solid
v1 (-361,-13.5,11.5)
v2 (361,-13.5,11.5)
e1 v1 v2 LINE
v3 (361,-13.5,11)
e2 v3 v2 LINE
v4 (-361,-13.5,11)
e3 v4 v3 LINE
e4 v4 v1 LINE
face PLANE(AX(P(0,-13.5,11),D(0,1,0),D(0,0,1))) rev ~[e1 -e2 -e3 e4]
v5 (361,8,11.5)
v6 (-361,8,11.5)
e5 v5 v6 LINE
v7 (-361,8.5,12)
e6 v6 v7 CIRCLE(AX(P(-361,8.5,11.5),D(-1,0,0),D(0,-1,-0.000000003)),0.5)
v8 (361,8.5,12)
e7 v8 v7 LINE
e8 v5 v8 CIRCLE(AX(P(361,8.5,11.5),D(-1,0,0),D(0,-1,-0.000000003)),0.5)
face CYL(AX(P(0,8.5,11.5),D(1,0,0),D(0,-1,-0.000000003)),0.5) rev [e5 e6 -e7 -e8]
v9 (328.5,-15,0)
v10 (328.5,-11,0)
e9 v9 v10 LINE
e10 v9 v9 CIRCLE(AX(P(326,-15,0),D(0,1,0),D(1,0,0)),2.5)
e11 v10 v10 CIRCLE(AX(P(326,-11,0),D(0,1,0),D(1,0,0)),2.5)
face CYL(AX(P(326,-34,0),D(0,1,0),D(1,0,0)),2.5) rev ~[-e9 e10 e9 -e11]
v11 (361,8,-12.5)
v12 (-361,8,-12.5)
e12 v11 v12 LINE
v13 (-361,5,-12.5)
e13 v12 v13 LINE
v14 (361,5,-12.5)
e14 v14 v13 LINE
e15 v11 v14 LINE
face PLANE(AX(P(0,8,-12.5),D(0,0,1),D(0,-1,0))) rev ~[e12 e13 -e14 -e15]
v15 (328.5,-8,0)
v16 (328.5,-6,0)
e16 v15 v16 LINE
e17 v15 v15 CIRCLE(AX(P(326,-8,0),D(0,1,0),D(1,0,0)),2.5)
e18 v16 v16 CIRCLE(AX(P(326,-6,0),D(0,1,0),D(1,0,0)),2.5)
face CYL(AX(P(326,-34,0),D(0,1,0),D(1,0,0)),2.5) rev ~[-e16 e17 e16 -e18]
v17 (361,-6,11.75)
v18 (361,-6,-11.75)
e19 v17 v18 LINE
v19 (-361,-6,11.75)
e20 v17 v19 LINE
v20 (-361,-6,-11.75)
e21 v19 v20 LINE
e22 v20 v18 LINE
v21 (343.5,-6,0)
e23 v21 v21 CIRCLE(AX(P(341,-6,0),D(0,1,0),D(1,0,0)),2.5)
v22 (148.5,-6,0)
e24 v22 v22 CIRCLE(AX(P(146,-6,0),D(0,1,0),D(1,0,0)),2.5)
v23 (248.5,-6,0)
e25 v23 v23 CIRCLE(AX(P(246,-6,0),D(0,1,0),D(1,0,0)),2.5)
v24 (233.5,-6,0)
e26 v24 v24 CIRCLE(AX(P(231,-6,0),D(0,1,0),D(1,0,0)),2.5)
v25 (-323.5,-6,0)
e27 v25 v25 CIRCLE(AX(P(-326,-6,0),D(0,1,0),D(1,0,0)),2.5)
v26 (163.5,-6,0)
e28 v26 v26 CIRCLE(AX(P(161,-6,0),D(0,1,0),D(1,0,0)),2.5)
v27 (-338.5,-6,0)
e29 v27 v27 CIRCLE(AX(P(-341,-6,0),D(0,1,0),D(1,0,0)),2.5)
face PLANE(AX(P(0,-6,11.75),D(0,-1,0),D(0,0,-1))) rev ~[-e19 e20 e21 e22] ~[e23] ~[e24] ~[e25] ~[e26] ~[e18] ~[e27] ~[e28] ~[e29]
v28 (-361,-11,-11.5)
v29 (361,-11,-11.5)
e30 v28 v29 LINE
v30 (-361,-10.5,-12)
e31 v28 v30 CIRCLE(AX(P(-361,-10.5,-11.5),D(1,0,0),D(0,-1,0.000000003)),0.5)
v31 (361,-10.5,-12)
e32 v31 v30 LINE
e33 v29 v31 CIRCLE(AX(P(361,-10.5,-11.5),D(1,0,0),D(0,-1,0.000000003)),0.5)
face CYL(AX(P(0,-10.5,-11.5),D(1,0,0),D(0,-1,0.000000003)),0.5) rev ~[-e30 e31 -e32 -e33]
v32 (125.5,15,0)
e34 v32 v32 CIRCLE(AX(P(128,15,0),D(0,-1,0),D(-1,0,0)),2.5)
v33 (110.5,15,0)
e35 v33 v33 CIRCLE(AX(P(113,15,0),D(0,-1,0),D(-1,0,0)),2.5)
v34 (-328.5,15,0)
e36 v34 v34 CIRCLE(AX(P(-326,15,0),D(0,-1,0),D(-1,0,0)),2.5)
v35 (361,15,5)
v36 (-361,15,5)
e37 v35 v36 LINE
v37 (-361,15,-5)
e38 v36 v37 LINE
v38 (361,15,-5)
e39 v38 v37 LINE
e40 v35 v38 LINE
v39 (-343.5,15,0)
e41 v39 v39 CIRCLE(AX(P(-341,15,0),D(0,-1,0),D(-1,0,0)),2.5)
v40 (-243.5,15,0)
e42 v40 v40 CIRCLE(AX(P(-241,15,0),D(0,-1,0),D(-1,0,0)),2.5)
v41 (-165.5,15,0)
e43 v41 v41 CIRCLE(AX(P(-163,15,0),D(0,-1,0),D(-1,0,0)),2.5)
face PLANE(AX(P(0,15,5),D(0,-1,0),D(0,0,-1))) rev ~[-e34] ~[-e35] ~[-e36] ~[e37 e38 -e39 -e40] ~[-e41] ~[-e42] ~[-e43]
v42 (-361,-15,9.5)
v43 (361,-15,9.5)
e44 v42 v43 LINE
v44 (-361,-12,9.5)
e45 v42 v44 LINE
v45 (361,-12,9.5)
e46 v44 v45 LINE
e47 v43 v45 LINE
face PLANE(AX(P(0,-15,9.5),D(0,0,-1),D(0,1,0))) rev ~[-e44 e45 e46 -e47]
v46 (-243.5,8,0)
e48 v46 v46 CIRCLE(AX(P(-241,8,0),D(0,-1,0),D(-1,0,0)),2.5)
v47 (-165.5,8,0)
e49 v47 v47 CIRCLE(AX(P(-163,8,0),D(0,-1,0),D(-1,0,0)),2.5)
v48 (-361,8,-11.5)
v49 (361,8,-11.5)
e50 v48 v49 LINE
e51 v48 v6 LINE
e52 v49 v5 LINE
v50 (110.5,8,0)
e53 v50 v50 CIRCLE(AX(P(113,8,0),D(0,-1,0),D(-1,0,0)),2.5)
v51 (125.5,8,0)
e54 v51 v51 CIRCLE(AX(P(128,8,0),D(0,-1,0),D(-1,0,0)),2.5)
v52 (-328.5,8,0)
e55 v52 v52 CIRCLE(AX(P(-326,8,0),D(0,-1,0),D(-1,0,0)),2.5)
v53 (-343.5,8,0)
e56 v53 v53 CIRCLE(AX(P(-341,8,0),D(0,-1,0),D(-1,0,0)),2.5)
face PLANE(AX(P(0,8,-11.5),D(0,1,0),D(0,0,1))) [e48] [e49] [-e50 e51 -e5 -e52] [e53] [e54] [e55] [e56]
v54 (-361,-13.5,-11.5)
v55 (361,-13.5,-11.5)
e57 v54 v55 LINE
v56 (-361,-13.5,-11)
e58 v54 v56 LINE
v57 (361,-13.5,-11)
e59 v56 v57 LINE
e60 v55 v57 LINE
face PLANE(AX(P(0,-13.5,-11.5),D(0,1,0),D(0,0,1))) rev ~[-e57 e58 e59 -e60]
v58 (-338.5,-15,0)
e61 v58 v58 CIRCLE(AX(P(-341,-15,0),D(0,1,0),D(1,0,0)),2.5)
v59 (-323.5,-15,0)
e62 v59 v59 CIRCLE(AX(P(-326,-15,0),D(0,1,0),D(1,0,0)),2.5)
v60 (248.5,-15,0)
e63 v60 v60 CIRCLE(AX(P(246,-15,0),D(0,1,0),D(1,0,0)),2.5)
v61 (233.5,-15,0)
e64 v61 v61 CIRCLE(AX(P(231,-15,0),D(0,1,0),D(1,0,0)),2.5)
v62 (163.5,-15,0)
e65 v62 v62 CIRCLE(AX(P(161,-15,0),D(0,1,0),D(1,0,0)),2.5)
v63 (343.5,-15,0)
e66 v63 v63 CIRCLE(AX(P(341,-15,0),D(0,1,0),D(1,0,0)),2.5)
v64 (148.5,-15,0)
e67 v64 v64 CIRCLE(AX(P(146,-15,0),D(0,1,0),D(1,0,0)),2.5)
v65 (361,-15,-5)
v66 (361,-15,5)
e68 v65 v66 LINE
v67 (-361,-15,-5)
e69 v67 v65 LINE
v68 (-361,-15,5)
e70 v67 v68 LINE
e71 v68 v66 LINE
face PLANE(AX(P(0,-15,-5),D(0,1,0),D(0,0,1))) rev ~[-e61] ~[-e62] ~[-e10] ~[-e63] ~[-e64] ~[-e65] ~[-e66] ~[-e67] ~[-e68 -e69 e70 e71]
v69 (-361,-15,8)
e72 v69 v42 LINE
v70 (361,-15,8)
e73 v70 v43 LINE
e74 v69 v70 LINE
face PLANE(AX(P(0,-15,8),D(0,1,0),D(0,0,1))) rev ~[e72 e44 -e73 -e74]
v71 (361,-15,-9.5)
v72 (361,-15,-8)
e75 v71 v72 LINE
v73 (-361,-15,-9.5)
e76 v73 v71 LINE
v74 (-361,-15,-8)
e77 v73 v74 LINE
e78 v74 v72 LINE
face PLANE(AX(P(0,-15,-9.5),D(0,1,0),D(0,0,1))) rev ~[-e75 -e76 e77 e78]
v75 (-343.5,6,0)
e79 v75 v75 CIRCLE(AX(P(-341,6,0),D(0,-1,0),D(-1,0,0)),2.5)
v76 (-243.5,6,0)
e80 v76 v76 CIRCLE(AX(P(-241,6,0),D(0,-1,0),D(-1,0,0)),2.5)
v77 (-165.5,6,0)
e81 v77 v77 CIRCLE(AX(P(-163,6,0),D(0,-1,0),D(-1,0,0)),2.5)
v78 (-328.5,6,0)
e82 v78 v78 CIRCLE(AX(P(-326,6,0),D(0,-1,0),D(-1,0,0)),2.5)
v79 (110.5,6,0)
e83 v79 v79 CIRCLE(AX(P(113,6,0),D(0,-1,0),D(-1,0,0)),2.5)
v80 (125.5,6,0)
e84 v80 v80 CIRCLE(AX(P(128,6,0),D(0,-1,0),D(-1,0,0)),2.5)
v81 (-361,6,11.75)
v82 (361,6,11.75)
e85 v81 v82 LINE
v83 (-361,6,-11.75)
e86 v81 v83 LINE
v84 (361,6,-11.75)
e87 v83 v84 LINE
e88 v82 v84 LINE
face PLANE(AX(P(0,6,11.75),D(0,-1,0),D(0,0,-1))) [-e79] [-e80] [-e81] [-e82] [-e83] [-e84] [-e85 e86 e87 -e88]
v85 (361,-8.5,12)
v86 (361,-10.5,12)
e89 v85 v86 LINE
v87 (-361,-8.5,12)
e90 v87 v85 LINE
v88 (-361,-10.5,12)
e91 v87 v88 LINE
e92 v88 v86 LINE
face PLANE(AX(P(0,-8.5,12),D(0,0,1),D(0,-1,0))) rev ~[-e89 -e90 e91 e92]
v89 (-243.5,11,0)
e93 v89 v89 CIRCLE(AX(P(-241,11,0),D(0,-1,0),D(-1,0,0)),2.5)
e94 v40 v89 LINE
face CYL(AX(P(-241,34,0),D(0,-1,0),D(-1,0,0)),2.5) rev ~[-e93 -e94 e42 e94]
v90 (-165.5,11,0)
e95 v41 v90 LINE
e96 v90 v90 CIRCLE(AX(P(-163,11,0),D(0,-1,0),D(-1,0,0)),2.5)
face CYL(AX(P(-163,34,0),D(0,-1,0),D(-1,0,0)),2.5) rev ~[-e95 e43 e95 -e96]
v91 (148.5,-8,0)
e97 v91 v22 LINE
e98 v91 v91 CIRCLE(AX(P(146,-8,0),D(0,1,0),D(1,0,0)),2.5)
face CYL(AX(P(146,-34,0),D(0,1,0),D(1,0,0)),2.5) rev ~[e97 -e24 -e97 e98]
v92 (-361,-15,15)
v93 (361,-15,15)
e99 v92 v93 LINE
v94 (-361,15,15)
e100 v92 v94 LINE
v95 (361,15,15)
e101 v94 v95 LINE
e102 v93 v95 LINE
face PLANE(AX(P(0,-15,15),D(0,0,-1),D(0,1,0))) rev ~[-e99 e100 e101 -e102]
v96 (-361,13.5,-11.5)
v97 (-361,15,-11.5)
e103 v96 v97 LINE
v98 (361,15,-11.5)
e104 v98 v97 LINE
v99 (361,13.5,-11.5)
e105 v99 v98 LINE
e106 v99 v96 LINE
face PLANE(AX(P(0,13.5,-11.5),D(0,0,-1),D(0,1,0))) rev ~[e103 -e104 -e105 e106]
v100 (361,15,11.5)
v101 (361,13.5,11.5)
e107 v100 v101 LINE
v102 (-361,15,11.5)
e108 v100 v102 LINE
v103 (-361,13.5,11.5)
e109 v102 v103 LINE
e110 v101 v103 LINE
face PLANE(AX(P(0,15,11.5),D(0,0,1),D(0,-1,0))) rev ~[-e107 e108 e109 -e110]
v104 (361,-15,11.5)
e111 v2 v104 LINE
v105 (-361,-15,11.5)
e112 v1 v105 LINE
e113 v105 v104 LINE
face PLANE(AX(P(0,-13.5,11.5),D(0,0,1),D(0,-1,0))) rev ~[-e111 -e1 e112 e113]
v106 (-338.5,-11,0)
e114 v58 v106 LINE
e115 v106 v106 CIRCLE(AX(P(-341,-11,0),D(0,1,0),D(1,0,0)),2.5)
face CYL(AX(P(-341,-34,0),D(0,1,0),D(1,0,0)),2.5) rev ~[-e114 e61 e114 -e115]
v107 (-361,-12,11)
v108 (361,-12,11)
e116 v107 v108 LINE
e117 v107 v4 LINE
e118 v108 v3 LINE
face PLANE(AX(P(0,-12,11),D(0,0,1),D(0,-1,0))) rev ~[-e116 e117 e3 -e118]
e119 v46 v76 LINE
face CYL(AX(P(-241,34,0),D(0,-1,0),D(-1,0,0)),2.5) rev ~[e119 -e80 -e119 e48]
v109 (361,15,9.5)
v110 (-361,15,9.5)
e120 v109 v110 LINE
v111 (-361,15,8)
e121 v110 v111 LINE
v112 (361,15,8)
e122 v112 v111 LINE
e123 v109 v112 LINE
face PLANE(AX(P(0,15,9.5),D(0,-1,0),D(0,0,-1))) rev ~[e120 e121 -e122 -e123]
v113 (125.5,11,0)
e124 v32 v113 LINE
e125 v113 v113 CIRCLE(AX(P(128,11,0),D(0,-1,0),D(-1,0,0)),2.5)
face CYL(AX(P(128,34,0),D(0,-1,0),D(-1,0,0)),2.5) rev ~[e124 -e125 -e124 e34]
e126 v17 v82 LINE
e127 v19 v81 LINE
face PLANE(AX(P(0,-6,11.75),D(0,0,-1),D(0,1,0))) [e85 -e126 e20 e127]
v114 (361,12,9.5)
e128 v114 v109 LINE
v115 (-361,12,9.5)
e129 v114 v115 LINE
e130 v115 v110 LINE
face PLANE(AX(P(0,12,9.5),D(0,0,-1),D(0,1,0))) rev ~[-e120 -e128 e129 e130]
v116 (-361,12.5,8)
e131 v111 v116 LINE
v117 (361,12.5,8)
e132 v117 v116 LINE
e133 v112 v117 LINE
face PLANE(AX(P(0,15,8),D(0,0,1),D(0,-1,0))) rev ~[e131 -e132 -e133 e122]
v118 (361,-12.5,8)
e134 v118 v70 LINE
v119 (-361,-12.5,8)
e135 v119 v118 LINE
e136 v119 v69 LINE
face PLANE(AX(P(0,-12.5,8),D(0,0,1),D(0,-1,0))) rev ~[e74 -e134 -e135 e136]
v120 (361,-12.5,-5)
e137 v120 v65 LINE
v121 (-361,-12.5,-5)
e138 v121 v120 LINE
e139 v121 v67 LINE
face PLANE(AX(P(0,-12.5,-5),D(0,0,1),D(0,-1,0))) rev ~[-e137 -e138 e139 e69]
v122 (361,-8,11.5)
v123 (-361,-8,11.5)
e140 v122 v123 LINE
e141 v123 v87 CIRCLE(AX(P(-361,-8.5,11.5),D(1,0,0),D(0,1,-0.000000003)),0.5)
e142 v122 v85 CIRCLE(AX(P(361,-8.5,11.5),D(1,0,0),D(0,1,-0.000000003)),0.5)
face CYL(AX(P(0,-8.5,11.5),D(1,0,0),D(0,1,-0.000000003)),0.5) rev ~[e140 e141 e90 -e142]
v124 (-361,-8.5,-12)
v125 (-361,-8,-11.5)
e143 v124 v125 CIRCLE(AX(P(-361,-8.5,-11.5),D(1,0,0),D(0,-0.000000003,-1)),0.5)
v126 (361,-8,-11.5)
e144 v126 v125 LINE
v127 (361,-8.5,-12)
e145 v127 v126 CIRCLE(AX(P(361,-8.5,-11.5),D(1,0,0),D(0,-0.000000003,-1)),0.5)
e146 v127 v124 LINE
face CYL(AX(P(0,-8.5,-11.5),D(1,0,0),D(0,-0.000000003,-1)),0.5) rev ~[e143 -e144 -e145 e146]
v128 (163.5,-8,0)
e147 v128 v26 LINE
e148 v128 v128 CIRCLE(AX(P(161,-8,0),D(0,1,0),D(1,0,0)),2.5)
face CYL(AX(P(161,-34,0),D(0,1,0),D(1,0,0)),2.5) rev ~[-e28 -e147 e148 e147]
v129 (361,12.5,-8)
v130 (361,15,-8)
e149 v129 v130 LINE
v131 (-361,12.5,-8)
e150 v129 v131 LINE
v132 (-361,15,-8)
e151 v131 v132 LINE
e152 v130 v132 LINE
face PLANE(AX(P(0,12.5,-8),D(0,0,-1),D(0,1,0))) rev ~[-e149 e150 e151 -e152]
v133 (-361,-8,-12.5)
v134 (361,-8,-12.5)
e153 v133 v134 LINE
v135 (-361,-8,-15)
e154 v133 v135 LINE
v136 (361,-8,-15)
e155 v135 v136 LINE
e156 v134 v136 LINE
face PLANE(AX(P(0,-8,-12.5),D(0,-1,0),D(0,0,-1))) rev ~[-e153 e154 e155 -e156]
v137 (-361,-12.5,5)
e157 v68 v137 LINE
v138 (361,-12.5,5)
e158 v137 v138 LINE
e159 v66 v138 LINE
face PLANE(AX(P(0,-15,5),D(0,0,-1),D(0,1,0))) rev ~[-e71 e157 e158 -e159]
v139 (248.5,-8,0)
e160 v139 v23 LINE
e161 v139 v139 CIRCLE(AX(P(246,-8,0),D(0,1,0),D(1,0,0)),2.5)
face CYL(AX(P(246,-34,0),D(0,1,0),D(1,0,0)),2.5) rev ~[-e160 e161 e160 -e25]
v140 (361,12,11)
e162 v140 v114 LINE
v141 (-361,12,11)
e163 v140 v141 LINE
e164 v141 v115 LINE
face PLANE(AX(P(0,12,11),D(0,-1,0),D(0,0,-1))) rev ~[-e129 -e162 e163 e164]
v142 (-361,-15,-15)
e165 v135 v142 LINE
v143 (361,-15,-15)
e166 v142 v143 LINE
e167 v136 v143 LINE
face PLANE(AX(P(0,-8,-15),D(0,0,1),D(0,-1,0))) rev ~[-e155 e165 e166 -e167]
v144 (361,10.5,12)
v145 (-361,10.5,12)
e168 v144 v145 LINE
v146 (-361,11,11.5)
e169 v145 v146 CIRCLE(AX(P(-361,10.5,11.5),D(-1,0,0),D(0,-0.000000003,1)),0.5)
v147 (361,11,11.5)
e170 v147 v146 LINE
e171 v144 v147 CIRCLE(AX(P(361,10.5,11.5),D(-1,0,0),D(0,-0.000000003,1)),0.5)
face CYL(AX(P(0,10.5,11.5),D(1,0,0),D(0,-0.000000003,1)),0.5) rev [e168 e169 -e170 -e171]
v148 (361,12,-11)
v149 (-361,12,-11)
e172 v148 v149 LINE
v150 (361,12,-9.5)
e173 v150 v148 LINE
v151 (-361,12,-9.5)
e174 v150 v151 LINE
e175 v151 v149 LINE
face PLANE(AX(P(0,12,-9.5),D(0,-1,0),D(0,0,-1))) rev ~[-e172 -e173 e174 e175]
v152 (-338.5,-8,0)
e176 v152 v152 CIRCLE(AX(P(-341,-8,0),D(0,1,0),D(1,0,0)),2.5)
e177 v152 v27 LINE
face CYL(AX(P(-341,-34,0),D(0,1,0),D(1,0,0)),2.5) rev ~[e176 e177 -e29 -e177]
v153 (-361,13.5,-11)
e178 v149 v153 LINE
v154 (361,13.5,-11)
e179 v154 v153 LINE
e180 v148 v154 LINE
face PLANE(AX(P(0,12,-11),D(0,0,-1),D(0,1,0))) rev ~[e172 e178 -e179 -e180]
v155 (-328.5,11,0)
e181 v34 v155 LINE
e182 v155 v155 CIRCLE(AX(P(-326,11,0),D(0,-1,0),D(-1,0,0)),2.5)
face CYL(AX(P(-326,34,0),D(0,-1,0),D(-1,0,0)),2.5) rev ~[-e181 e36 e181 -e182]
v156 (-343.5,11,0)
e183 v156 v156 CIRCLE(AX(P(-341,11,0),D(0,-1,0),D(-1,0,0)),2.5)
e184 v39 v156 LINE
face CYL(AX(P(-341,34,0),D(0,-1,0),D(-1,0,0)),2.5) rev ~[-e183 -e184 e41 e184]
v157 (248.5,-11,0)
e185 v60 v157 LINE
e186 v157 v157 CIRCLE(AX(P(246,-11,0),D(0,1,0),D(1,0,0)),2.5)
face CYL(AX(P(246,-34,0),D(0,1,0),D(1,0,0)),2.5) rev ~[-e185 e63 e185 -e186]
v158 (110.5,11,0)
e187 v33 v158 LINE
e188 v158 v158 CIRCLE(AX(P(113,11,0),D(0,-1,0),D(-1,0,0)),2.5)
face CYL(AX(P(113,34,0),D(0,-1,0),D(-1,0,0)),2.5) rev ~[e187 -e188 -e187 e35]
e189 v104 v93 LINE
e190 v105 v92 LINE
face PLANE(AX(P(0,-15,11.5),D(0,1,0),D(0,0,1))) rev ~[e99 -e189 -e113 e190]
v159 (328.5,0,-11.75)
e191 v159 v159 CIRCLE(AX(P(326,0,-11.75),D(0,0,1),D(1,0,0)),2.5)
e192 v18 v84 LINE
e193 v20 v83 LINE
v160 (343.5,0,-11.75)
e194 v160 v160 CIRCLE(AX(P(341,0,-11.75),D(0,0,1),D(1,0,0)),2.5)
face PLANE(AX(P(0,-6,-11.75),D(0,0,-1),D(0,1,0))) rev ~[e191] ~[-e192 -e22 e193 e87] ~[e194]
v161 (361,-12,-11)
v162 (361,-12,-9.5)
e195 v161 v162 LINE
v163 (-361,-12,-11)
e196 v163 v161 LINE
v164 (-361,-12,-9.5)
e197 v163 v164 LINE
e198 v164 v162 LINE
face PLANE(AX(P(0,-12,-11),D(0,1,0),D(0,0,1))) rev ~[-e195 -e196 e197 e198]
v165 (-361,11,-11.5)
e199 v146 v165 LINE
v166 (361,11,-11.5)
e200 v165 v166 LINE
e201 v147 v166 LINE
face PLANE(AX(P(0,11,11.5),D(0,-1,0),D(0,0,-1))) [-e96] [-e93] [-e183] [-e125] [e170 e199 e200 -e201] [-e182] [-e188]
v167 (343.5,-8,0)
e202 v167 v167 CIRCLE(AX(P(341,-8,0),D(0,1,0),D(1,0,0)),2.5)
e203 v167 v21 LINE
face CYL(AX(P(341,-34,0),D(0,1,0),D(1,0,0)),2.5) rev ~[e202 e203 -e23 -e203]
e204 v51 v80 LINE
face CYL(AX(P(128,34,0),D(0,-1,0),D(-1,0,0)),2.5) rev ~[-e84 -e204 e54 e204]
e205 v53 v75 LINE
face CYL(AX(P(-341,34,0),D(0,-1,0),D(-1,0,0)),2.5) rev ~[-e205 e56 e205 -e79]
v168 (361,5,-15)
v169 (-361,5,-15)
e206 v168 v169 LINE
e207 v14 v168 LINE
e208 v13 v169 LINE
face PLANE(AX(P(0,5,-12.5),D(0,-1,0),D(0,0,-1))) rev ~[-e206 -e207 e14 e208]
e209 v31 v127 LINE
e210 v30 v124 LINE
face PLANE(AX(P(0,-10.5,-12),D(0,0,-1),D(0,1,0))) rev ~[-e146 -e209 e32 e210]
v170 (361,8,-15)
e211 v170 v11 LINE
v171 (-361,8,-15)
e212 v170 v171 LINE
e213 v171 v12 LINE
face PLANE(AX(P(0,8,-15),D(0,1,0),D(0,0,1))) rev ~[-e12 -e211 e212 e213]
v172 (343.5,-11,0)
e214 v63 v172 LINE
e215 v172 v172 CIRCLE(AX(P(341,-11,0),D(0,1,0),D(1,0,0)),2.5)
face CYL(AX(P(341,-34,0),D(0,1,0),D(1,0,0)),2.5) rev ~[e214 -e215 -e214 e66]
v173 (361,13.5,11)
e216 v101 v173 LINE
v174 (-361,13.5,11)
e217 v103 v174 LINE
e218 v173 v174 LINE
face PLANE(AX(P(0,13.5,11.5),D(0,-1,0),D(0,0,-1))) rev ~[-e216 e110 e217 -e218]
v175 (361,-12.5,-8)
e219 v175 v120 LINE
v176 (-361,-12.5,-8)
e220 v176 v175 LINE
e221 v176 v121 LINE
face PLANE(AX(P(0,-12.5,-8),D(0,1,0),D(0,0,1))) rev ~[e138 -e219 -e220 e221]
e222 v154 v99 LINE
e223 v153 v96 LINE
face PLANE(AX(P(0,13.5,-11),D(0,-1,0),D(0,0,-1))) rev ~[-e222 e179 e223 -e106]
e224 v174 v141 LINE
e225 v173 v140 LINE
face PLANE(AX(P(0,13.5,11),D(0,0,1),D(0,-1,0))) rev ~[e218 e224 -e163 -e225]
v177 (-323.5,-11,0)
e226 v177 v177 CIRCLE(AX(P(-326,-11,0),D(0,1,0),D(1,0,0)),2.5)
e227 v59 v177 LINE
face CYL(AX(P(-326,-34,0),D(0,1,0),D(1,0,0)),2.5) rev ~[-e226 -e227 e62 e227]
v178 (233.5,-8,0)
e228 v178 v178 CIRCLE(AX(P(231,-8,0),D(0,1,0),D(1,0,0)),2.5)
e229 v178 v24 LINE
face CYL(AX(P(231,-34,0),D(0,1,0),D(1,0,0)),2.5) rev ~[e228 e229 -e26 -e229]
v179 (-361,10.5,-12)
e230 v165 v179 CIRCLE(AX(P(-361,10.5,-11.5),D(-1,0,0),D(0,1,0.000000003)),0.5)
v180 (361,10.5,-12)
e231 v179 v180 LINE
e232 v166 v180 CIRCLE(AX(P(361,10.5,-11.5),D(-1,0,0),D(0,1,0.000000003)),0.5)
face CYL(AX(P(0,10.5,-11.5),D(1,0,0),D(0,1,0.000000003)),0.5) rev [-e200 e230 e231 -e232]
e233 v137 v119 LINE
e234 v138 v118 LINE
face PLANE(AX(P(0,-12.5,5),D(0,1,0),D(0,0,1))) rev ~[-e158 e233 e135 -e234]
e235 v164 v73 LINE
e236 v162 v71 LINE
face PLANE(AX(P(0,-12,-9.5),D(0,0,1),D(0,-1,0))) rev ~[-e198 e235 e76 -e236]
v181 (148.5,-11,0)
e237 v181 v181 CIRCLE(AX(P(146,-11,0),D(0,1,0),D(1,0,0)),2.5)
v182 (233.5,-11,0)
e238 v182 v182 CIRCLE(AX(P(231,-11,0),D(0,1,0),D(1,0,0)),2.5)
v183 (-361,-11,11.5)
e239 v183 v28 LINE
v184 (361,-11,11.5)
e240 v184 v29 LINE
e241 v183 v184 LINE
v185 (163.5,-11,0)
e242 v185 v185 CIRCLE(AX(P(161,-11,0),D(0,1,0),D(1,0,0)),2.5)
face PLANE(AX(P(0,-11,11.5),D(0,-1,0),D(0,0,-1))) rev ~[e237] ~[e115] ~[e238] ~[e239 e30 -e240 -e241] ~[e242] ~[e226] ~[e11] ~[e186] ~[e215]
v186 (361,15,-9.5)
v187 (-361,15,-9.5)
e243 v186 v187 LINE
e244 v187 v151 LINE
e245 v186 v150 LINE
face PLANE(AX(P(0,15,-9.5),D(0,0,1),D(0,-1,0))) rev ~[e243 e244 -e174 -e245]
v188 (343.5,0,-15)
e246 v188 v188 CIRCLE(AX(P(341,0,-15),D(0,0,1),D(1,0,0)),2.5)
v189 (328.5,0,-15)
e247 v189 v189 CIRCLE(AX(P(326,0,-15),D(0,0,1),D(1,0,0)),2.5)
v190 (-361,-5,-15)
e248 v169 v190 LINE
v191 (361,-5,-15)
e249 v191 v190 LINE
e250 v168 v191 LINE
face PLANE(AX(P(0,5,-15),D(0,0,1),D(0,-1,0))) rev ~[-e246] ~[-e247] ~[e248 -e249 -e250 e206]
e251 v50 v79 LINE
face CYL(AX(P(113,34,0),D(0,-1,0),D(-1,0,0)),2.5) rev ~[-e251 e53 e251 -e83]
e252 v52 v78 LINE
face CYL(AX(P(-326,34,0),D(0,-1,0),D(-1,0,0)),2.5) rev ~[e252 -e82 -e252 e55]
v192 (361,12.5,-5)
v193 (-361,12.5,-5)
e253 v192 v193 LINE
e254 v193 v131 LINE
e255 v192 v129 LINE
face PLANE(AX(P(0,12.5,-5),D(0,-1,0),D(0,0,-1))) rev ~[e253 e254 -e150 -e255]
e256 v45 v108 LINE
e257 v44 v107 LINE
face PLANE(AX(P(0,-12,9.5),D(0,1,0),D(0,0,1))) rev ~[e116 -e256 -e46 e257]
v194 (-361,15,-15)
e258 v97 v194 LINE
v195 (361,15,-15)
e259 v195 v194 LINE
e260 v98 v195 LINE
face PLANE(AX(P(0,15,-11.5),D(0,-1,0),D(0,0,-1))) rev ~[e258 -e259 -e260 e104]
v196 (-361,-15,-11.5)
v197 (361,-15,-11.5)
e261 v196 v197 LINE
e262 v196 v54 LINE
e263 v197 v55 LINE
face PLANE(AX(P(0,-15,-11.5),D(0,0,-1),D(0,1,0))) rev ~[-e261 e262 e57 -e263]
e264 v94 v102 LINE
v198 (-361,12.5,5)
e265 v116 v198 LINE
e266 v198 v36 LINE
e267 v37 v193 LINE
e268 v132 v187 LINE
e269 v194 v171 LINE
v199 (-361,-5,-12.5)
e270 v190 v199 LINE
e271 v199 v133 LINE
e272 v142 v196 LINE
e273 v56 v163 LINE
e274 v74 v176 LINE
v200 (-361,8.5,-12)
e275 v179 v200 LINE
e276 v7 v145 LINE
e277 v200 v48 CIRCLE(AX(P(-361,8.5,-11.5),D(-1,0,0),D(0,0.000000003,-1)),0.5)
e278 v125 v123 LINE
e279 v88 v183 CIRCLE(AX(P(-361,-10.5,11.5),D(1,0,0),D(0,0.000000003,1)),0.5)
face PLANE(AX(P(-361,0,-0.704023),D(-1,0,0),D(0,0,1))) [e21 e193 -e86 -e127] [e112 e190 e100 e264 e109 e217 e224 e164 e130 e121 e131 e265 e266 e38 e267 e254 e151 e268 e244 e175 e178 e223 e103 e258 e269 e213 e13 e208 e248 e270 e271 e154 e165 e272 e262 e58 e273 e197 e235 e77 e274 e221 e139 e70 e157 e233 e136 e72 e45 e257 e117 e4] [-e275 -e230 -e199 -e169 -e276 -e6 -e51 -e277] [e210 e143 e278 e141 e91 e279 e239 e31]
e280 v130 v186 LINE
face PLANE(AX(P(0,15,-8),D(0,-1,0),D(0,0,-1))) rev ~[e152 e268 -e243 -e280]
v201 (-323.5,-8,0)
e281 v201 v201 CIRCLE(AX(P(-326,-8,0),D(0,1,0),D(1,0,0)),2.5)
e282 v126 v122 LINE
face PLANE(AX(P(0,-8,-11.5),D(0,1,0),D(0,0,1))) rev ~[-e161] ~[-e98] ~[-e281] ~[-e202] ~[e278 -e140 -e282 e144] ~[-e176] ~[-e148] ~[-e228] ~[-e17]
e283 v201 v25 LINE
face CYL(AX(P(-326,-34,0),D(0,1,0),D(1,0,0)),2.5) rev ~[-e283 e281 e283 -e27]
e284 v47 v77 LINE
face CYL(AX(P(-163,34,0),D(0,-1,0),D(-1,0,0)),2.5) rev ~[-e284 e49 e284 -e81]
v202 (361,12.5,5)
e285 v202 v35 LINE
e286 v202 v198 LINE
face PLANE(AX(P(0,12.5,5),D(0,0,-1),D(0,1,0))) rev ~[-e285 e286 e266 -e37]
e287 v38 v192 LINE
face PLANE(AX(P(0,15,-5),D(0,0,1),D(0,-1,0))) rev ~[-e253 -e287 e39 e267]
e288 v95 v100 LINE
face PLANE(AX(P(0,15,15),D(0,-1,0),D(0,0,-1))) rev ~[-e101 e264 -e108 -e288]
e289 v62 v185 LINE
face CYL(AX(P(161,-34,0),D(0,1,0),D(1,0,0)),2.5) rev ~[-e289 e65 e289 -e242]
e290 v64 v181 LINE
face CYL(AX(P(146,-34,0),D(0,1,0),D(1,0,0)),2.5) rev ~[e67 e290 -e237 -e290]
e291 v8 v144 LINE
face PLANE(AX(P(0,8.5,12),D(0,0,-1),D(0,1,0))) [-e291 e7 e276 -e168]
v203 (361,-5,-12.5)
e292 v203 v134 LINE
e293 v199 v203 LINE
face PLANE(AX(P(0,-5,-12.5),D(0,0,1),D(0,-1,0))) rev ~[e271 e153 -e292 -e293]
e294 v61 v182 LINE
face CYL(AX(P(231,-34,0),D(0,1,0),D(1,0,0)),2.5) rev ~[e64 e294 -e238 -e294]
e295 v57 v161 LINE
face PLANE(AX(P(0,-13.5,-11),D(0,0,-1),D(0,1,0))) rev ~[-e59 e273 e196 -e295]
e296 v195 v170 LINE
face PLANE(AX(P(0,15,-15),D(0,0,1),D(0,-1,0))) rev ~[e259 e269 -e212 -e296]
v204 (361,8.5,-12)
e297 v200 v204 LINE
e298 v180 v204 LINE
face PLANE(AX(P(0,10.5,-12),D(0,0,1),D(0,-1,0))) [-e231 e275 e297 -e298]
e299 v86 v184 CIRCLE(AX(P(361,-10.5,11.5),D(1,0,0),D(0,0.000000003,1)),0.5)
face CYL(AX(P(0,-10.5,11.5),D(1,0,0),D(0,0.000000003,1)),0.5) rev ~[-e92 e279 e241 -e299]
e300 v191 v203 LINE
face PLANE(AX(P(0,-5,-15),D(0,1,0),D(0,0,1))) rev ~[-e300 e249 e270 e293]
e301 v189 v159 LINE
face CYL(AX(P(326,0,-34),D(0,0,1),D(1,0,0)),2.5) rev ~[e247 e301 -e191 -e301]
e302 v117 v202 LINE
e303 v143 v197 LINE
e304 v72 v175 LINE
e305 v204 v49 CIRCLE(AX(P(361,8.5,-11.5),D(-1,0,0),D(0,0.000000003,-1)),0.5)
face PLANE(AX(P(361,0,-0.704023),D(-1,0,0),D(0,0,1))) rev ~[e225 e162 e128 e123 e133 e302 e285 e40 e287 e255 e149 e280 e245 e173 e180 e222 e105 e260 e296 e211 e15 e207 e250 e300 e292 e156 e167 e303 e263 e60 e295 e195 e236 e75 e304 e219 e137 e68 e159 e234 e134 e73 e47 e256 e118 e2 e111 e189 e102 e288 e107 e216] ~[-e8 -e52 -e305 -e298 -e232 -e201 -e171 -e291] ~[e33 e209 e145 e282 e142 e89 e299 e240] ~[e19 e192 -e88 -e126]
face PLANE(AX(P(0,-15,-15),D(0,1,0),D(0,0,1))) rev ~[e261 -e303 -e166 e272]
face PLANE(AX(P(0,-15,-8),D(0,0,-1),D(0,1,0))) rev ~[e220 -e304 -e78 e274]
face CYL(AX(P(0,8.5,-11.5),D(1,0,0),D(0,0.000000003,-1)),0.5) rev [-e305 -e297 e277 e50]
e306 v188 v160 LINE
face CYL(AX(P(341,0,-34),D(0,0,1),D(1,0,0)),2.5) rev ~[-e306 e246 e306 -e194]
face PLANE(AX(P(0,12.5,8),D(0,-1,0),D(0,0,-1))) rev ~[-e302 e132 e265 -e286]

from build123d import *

# Parameters (mm, degrees)
SKETCH_1_W             = 23.5
SKETCH_1_H             = 12
EXTRUDE_1_DEPTH        = 361
HOLE_WIZARD_M6_1_D     = 5
HOLE_WIZARD_M6_1_DEPTH = 19
HOLE_WIZARD_M6_1_TIP   = 1.502151548
HOLE_WIZARD_M6_2_D     = 5
HOLE_WIZARD_M6_2_DEPTH = 19
HOLE_WIZARD_M6_2_TIP   = 1.502151548
HOLE_WIZARD_M6_3_D     = 5
HOLE_WIZARD_M6_3_DEPTH = 19
HOLE_WIZARD_M6_3_TIP   = 1.502151548


with BuildPart() as part:
    # 草图1 → 凸台-拉伸1 (new, symmetric)
    with BuildSketch(Plane(origin=(0, 0, 0), x_dir=(0, 0, -1), z_dir=(1, 0, 0))):
        Polygon((-15, 15), (-11.5, 15), (-11.5, 13.5), (-11, 13.5), (-11, 12), (-9.5, 12), (-9.5, 15), (-8, 15), (-8, 12.5), (-5, 12.5), (-5, 15), (5, 15), (5, 12.5), (8, 12.5), (8, 15), (9.5, 15), (9.5, 12), (11, 12), (11, 13.5), (11.5, 13.5), (11.5, 15), (15, 15), (15, 8), (12.5, 8), (12.5, 5), (15, 5), (15, -5), (12.5, -5), (12.5, -8), (15, -8), (15, -15), (11.5, -15), (11.5, -13.5), (11, -13.5), (11, -12), (9.5, -12), (9.5, -15), (8, -15), (8, -12.5), (5, -12.5), (5, -15), (-5, -15), (-5, -12.5), (-8, -12.5), (-8, -15), (-9.5, -15), (-9.5, -12), (-11, -12), (-11, -13.5), (-11.5, -13.5), (-11.5, -15), (-15, -15), align=None)
        with BuildLine():
            Line((12, -10.5), (12, -8.5))
            ThreePointArc((12, -8.5), (11.853553391, -8.146446609), (11.5, -8))
            Line((11.5, -8), (-11.5, -8))
            ThreePointArc((-11.5, -8), (-11.853553391, -8.146446609), (-12, -8.5))
            Line((-12, -8.5), (-12, -10.5))
            ThreePointArc((-12, -10.5), (-11.853553391, -10.853553391), (-11.5, -11))
            Line((-11.5, -11), (11.5, -11))
            ThreePointArc((11.5, -11), (11.853553391, -10.853553391), (12, -10.5))
        make_face(mode=Mode.SUBTRACT)
        with BuildLine():
            Line((-11.5, 11), (11.5, 11))
            ThreePointArc((11.5, 11), (11.853553391, 10.853553391), (12, 10.5))
            Line((12, 10.5), (12, 8.5))
            ThreePointArc((12, 8.5), (11.853553391, 8.146446609), (11.5, 8))
            Line((11.5, 8), (-11.5, 8))
            ThreePointArc((-11.5, 8), (-11.853553391, 8.146446609), (-12, 8.5))
            Line((-12, 8.5), (-12, 10.5))
            ThreePointArc((-12, 10.5), (-11.853553391, 10.853553391), (-11.5, 11))
        make_face(mode=Mode.SUBTRACT)
        Rectangle(SKETCH_1_W, SKETCH_1_H, mode=Mode.SUBTRACT)
    extrude(amount=EXTRUDE_1_DEPTH, both=True)

    # M6 螺纹孔1
    with Locations(Plane(origin=(0, -15, 0), x_dir=(-1, 0, 0), z_dir=(0, -1, 0))):
        with Locations((-341, 0), (-326, 0), (-246, 0), (-231, 0), (-161, 0), (-146, 0), (326, 0), (341, 0)):
            Hole(HOLE_WIZARD_M6_1_D / 2, depth=HOLE_WIZARD_M6_1_DEPTH)
            with Locations((0, 0, -(HOLE_WIZARD_M6_1_DEPTH + HOLE_WIZARD_M6_1_TIP / 2))):  # 118° drill point
                Cone(0, HOLE_WIZARD_M6_1_D / 2, HOLE_WIZARD_M6_1_TIP, mode=Mode.SUBTRACT)

    # M6 螺纹孔2
    with Locations(Plane(origin=(0, 15, 0), x_dir=(1, 0, 0), z_dir=(0, 1, 0))):
        with Locations((128, 0), (113, 0), (-341, 0), (-326, 0), (-241, 0), (-163, 0)):
            Hole(HOLE_WIZARD_M6_2_D / 2, depth=HOLE_WIZARD_M6_2_DEPTH)
            with Locations((0, 0, -(HOLE_WIZARD_M6_2_DEPTH + HOLE_WIZARD_M6_2_TIP / 2))):  # 118° drill point
                Cone(0, HOLE_WIZARD_M6_2_D / 2, HOLE_WIZARD_M6_2_TIP, mode=Mode.SUBTRACT)

    # M6 螺纹孔3
    with Locations(Plane(origin=(0, 0, -15), x_dir=(-1, 0, 0), z_dir=(0, 0, -1))):
        with Locations((-326, 0), (-341, 0)):
            Hole(HOLE_WIZARD_M6_3_D / 2, depth=HOLE_WIZARD_M6_3_DEPTH)
            with Locations((0, 0, -(HOLE_WIZARD_M6_3_DEPTH + HOLE_WIZARD_M6_3_TIP / 2))):  # 118° drill point
                Cone(0, HOLE_WIZARD_M6_3_D / 2, HOLE_WIZARD_M6_3_TIP, mode=Mode.SUBTRACT)


solid = part.part
